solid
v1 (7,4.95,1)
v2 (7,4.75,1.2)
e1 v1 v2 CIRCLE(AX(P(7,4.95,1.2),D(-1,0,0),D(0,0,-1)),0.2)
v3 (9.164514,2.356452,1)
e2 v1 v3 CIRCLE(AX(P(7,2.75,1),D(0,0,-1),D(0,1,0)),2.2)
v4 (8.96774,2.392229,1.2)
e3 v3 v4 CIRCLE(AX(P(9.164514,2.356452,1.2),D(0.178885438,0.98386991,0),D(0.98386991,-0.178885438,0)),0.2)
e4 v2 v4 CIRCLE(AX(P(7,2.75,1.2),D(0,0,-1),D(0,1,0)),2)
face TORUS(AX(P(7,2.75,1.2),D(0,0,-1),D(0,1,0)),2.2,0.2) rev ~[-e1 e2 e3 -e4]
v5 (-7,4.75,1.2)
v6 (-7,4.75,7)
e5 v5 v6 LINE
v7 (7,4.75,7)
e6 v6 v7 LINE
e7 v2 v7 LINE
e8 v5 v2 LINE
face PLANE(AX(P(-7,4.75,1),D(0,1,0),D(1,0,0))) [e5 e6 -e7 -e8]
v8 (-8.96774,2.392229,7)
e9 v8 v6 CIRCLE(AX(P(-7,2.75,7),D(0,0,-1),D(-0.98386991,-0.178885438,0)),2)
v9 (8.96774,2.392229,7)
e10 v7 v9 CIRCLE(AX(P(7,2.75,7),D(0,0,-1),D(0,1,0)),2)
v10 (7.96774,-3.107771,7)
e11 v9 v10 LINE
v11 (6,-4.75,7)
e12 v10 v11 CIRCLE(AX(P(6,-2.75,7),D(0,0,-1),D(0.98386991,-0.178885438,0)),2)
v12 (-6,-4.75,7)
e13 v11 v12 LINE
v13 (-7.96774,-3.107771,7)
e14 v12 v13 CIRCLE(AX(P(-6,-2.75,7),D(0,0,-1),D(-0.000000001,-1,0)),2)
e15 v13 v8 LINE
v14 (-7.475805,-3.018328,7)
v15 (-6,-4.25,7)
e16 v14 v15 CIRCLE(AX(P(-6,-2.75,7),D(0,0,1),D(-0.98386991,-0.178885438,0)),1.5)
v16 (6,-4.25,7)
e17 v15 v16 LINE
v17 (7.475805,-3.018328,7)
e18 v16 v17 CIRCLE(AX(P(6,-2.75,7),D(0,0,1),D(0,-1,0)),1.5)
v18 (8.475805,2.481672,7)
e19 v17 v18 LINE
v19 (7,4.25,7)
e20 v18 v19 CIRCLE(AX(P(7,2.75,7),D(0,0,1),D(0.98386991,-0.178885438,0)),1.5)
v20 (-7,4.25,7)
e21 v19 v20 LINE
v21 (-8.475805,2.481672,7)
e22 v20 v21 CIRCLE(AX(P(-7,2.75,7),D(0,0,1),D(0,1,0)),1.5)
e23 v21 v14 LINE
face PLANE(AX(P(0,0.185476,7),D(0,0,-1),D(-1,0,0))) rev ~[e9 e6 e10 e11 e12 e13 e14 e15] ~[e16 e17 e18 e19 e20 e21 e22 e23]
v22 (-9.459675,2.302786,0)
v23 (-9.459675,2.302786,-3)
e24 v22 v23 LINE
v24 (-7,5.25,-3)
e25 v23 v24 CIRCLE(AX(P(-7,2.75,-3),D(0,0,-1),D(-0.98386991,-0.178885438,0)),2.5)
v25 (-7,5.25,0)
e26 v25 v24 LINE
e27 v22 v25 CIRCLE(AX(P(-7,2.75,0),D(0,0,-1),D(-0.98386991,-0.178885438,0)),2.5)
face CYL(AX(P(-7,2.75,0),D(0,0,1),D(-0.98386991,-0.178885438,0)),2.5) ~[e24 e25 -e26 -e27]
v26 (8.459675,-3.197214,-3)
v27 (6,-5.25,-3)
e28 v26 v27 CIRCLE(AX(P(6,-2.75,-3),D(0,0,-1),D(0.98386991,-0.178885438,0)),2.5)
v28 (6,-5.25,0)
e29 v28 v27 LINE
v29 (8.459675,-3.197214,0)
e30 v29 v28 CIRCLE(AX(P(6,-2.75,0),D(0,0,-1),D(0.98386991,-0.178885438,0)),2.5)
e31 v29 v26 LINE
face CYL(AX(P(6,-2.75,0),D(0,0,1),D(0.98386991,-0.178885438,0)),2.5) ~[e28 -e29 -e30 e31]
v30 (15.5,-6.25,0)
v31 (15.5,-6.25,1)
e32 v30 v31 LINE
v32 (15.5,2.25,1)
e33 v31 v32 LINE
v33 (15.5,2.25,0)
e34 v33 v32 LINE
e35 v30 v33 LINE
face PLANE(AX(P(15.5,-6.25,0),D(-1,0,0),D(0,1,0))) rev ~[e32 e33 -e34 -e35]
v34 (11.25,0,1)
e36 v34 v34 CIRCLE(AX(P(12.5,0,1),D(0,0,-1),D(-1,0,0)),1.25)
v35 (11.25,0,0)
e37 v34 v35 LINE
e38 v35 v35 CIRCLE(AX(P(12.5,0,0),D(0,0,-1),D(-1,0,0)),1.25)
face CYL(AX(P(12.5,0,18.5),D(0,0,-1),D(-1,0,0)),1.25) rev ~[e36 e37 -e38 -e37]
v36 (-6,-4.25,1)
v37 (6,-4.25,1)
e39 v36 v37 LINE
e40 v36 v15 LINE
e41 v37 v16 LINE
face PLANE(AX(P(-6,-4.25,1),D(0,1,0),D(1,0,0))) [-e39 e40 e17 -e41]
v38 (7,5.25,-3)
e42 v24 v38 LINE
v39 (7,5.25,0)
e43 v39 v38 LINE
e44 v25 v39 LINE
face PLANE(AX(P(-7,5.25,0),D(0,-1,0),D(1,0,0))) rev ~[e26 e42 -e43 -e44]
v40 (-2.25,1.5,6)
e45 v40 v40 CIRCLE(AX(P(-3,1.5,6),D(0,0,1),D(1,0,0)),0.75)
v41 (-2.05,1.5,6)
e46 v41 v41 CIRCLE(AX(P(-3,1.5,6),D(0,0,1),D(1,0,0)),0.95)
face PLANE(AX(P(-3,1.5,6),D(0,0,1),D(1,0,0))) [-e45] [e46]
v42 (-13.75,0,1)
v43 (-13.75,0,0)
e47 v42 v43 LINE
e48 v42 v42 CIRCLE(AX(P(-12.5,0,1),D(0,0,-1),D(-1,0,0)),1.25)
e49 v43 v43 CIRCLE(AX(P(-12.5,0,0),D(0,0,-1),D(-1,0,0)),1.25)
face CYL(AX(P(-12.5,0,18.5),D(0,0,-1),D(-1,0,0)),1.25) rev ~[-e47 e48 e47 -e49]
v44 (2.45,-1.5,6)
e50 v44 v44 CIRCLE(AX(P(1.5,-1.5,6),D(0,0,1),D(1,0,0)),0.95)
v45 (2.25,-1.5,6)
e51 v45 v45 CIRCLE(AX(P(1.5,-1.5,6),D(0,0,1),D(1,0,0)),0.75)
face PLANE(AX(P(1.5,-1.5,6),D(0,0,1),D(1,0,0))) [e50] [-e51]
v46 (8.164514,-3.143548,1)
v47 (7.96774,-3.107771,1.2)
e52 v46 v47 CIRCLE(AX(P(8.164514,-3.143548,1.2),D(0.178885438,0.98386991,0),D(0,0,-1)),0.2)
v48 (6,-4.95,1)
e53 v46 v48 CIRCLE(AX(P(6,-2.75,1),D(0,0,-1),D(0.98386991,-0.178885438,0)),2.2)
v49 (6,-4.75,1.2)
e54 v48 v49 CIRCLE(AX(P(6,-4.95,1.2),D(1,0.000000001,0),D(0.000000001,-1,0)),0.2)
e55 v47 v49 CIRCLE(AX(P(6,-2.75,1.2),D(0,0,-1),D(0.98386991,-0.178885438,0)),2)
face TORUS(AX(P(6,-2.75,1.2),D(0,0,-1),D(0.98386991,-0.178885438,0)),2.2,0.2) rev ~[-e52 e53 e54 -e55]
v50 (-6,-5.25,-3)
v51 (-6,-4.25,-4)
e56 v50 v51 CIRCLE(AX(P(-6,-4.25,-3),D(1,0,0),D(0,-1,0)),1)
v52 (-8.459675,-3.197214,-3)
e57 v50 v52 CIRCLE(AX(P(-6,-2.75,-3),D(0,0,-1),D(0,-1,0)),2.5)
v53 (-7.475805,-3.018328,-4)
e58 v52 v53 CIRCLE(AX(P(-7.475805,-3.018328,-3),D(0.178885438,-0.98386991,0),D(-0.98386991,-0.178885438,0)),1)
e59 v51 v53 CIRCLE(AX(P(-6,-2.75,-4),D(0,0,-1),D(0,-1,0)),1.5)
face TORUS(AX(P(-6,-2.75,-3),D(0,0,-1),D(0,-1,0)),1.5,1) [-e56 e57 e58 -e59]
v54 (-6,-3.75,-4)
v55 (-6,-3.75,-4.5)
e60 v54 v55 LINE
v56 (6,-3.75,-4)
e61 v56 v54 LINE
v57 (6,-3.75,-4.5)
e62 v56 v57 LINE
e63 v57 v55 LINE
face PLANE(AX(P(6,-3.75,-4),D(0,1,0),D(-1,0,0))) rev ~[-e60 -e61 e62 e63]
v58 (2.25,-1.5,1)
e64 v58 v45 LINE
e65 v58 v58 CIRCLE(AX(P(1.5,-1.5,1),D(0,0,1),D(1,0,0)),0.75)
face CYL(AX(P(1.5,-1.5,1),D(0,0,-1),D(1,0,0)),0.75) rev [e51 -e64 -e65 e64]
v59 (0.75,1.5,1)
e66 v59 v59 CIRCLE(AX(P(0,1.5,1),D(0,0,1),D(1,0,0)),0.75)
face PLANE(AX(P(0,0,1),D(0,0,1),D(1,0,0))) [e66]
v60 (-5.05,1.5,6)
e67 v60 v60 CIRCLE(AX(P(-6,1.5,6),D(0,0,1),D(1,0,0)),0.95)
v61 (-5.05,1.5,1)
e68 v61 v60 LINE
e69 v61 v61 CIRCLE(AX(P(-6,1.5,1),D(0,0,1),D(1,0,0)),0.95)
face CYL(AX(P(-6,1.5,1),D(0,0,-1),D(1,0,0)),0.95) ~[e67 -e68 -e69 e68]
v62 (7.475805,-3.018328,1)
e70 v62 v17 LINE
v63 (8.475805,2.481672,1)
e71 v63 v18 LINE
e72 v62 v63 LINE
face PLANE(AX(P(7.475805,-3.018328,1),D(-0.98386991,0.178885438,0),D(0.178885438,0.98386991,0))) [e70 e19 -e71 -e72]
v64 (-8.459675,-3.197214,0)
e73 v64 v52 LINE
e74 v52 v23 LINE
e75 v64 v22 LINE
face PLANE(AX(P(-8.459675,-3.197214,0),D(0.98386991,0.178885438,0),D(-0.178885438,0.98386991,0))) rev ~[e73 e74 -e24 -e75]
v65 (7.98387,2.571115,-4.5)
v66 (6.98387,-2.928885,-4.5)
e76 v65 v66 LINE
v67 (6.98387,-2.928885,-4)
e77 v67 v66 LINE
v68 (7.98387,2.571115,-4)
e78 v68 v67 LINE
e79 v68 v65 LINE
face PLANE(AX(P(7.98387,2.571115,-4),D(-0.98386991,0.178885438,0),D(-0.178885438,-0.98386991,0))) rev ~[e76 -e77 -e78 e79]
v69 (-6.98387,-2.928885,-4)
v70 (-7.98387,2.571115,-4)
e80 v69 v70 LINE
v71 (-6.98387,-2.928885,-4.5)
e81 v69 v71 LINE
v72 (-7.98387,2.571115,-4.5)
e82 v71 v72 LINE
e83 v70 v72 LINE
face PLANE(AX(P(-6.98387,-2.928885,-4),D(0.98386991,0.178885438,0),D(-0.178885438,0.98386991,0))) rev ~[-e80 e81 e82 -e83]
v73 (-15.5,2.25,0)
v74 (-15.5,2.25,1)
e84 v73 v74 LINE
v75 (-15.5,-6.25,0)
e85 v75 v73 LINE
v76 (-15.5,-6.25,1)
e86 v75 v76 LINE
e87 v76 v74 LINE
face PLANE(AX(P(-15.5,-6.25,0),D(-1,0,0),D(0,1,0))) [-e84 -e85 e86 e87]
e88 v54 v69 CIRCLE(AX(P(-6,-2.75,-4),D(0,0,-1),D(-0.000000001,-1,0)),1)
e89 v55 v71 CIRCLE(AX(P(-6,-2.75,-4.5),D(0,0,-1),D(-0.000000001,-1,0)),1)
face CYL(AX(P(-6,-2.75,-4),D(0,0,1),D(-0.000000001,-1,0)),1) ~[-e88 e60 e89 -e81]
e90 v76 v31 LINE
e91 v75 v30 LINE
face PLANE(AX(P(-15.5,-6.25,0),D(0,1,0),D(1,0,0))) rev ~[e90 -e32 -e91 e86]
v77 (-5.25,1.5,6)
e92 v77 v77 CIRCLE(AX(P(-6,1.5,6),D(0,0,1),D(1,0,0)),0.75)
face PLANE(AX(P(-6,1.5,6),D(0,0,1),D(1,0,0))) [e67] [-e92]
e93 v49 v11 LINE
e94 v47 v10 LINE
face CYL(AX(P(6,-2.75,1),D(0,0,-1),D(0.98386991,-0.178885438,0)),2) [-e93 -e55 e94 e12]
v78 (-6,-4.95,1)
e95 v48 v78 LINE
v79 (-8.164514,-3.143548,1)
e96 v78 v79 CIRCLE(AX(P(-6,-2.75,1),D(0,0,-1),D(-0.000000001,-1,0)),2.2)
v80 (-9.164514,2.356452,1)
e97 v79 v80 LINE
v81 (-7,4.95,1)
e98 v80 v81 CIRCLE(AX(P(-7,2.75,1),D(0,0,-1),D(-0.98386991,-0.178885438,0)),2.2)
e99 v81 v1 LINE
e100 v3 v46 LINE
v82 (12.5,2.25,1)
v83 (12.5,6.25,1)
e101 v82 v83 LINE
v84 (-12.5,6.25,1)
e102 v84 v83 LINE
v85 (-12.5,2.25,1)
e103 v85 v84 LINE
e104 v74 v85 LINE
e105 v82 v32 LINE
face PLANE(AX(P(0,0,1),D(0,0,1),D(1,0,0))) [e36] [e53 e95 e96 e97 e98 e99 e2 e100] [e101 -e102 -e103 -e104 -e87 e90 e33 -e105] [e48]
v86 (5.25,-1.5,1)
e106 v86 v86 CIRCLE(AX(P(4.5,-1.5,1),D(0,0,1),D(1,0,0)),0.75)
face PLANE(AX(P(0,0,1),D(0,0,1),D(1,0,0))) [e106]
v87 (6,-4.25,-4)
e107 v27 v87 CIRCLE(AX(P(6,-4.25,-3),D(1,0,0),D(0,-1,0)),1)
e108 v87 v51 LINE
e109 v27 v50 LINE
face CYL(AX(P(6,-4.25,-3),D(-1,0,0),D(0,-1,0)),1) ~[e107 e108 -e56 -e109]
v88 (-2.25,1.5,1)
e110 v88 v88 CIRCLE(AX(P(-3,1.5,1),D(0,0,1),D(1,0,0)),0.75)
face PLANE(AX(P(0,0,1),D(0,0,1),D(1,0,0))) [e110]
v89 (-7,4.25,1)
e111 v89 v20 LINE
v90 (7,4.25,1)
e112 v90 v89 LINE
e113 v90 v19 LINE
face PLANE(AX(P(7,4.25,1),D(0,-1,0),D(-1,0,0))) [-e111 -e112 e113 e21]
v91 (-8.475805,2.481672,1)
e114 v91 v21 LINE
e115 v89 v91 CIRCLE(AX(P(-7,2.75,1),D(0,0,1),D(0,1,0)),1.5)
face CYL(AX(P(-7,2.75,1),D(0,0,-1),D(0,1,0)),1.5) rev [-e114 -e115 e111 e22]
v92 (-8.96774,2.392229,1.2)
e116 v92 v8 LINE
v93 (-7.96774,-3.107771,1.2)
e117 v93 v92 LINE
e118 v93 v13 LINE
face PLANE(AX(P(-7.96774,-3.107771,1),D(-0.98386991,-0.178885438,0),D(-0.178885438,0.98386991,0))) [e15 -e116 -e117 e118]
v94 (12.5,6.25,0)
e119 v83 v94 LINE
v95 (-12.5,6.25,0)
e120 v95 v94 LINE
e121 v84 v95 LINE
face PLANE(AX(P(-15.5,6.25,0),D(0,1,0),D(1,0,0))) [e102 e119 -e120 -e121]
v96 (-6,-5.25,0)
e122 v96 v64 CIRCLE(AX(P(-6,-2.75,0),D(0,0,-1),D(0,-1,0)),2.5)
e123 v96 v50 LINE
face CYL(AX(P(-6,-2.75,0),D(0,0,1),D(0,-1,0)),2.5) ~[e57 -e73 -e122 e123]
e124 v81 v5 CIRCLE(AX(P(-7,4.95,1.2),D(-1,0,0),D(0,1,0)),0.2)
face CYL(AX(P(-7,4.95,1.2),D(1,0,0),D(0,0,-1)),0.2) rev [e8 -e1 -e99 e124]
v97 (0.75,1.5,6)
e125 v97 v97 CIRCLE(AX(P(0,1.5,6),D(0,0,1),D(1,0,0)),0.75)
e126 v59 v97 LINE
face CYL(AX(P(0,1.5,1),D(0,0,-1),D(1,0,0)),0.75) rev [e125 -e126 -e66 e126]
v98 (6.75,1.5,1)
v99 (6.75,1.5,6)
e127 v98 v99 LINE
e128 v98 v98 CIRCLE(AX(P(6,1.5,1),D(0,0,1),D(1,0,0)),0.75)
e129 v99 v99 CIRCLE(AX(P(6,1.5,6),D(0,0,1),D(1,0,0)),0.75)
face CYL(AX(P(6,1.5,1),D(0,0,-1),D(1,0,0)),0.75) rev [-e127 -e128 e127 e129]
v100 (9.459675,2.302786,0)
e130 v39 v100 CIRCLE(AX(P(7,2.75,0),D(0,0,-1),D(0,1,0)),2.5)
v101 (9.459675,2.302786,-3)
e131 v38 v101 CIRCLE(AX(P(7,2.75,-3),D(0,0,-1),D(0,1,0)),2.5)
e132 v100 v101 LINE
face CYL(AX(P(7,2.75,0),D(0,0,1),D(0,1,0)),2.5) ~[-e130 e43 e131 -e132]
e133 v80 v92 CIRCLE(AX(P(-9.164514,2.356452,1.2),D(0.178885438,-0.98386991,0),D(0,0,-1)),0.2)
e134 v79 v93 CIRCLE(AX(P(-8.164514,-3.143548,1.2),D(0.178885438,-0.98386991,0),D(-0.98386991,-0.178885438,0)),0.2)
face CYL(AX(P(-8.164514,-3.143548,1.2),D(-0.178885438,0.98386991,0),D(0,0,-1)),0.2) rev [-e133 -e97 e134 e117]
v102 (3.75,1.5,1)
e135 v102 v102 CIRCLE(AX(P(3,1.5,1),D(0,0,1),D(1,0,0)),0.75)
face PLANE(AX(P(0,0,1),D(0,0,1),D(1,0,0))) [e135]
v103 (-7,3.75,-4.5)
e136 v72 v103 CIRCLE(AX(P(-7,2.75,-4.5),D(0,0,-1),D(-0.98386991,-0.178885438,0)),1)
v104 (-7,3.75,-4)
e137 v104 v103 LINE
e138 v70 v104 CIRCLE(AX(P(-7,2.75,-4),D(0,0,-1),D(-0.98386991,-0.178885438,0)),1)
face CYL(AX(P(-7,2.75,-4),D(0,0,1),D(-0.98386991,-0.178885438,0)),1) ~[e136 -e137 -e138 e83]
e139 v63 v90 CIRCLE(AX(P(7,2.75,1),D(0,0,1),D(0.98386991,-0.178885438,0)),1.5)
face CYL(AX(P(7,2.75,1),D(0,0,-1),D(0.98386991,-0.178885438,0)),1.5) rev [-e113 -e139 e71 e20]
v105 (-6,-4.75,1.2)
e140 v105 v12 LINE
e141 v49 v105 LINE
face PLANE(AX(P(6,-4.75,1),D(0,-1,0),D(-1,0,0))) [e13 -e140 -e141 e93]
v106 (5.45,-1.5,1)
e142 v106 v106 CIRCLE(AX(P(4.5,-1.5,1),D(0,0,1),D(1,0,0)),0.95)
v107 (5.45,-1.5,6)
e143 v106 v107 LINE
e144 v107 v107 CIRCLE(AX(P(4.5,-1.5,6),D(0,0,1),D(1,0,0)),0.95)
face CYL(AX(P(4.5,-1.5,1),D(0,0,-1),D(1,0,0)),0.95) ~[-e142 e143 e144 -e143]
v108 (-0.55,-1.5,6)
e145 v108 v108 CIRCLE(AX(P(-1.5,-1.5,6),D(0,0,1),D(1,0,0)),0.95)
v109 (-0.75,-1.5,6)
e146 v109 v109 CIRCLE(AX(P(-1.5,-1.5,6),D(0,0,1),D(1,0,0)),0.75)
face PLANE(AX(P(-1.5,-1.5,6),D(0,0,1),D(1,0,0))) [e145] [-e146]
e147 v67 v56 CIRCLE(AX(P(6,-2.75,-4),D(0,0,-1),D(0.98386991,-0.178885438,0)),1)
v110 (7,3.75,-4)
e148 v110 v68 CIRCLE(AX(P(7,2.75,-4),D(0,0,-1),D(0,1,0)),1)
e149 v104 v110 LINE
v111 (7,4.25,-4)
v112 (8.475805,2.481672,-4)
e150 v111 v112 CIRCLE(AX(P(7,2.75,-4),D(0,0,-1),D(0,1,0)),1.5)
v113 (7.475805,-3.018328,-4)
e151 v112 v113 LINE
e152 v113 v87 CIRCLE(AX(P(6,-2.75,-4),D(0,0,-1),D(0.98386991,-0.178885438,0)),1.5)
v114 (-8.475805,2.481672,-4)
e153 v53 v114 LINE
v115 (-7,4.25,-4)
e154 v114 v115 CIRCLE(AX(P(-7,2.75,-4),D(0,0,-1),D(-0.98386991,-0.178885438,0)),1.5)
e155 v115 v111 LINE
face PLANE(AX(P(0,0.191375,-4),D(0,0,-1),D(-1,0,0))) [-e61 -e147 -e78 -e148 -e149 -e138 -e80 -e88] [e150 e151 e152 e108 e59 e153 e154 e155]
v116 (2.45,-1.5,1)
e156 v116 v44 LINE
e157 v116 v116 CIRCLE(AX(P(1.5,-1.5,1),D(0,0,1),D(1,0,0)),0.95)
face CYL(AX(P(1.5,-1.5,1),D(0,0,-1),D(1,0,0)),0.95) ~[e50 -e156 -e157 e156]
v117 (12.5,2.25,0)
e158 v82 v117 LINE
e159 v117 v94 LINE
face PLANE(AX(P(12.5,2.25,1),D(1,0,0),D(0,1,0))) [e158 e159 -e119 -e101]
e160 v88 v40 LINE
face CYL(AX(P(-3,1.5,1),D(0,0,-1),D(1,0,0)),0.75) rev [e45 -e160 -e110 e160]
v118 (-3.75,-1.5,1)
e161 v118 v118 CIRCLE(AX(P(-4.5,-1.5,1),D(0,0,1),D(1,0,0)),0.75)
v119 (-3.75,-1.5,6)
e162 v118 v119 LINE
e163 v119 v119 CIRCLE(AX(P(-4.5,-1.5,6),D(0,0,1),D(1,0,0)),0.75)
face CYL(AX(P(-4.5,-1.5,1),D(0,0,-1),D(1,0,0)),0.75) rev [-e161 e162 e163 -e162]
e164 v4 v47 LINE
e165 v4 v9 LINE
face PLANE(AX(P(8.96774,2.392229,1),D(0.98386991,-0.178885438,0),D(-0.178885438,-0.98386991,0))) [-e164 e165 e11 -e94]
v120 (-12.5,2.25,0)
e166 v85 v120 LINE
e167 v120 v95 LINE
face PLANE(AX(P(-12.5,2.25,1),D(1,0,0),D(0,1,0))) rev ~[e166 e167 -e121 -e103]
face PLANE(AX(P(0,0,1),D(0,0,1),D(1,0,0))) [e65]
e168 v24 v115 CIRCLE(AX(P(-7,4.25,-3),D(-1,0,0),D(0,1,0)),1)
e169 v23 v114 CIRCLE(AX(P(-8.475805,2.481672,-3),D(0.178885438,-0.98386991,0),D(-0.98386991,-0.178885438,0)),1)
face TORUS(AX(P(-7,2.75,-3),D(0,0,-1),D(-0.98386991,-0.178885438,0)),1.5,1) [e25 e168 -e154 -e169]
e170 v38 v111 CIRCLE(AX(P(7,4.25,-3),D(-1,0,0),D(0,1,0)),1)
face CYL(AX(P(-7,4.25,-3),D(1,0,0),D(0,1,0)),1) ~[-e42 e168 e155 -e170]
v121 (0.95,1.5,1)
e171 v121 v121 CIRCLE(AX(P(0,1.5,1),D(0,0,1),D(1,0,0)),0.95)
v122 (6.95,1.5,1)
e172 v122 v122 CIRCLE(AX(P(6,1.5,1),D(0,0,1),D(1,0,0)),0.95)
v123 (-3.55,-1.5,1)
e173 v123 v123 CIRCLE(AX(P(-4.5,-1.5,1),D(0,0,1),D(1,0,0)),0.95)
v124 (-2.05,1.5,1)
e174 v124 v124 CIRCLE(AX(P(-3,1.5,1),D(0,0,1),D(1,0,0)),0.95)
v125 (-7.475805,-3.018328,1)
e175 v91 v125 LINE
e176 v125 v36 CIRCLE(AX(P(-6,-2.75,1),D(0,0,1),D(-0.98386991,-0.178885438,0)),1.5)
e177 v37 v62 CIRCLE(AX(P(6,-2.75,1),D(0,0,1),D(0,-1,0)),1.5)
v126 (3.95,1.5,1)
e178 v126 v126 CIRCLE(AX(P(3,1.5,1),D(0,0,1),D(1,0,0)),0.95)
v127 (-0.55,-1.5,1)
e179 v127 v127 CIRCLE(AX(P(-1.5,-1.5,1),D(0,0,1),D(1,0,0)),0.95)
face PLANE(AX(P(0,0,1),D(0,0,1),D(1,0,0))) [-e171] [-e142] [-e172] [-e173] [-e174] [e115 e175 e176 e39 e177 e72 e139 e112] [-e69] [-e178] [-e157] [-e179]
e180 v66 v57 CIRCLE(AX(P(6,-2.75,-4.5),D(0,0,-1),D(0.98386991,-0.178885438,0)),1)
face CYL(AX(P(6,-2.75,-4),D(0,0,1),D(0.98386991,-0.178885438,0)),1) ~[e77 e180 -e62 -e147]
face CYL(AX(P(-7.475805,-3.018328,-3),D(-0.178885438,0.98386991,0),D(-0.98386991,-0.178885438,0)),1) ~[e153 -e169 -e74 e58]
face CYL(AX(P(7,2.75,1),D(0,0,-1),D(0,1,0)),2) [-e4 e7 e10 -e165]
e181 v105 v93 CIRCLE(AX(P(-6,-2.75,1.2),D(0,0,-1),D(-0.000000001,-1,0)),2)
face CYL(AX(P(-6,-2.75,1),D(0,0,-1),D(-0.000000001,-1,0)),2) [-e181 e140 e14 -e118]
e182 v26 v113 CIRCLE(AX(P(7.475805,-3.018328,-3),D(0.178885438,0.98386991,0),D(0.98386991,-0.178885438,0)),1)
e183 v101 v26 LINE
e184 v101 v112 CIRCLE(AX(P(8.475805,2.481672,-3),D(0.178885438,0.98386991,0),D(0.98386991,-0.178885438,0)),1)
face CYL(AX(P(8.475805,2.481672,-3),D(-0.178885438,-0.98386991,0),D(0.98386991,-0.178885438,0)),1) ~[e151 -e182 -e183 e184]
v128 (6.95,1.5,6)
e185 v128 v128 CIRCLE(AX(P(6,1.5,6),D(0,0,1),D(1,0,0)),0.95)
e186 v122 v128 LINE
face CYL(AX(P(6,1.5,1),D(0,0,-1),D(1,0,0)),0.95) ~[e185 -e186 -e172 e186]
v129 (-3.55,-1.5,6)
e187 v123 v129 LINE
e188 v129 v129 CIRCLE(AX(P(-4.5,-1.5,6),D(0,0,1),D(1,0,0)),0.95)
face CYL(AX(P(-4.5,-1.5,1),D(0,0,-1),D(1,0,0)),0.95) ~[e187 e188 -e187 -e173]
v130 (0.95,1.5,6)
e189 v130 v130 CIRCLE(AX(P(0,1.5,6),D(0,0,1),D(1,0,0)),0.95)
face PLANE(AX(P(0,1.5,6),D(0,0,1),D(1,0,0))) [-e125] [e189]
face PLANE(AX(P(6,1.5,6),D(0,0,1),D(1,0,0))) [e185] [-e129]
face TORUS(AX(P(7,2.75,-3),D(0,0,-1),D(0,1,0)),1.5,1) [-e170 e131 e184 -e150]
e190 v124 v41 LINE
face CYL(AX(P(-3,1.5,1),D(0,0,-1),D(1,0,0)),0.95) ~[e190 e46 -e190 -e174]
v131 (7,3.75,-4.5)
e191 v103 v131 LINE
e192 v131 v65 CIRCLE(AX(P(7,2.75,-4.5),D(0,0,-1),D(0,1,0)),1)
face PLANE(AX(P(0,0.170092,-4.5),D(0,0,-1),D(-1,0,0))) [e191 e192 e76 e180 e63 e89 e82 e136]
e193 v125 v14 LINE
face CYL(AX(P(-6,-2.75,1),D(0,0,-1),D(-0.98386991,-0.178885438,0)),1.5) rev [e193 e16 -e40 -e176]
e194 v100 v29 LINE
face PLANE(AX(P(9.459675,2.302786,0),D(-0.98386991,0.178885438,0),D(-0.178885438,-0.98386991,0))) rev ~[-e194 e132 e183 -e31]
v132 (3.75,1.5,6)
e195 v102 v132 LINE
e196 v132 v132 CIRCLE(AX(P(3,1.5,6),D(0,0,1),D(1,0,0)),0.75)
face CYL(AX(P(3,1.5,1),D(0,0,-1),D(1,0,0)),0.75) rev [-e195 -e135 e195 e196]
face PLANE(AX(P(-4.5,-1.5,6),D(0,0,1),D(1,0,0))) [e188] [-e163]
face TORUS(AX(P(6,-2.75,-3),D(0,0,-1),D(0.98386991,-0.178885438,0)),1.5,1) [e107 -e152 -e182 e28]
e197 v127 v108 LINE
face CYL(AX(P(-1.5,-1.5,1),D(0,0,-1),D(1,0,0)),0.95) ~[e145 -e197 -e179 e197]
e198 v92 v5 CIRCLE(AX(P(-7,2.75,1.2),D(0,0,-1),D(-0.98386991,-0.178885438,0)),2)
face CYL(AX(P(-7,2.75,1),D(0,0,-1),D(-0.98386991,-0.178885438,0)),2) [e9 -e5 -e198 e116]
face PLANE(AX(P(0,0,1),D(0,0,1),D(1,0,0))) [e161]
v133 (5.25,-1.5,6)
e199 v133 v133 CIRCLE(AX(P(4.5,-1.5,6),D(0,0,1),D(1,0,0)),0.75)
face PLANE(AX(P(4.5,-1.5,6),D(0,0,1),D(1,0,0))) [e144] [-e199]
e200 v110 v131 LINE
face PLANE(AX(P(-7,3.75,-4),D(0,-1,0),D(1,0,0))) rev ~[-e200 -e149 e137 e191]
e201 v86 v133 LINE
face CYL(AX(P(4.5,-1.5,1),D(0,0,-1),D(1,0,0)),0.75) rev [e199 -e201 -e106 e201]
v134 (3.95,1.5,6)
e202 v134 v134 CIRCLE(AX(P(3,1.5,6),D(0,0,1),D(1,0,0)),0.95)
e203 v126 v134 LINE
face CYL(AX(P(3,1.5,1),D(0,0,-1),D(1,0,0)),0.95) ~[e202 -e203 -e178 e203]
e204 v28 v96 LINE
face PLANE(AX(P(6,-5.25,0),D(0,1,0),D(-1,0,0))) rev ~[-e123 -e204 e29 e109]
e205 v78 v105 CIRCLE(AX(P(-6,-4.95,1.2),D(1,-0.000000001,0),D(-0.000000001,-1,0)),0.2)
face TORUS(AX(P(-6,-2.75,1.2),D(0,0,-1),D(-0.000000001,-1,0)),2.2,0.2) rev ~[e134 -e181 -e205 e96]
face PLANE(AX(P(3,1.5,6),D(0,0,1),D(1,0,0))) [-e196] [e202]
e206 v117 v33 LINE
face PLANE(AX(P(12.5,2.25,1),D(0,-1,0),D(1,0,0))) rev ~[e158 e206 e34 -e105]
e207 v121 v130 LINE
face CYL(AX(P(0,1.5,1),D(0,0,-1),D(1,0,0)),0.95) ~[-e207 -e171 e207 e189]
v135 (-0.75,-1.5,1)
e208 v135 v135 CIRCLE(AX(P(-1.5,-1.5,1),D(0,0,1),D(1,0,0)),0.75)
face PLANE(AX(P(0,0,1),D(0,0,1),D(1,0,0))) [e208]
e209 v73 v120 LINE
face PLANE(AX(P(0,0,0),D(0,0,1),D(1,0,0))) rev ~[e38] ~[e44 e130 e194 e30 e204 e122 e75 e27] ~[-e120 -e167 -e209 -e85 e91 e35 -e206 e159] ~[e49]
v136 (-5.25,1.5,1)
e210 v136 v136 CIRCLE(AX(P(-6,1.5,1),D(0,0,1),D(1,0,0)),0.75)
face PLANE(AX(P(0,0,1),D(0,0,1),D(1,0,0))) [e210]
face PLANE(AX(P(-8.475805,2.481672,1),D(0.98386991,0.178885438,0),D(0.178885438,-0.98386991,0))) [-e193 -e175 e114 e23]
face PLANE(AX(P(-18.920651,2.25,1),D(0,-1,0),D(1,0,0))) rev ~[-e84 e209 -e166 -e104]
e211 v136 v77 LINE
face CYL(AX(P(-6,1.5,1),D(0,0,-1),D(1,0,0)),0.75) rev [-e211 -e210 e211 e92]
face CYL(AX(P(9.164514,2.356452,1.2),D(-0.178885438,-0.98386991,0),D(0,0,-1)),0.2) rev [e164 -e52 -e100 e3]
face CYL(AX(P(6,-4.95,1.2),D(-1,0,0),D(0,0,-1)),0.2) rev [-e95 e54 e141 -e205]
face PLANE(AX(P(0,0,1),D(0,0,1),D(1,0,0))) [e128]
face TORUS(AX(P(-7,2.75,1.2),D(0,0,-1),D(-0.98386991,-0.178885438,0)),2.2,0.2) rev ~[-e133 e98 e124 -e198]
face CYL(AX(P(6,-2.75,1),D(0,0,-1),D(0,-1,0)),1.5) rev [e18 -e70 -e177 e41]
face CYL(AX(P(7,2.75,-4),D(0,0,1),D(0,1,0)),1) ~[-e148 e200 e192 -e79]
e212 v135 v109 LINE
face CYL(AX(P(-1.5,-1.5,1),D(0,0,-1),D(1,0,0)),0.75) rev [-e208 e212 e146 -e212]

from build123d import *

# Parameters (mm, degrees)
SKETCH1_W                 = 31
SKETCH1_H                 = 12.5
EXTRUDE1_DEPTH            = 1
EXTRUDE2_DEPTH            = 6
FILLET1_R                 = 0.2
M3X0_5_TAPPED_HOLE1_D     = 2.5
M3X0_5_TAPPED_HOLE1_DEPTH = 17.5
M3X0_5_TAPPED_HOLE1_TIP   = 0.751075774
EXTRUDE3_DEPTH            = 4
FILLET2_R                 = 1
EXTRUDE4_DEPTH            = 0.5
SKETCH8_R                 = 0.95
SKETCH8_R_2               = 0.75
EXTRUDE_THIN2_DEPTH       = 5
SKETCH10_W                = 6.420651052
SKETCH10_H                = 6.175896966
SKETCH10_W_2              = 7.637064352
SKETCH10_H_2              = 8.744155905
CUT_EXTRUDE1_DEPTH        = 5


with BuildPart() as part:
    # Sketch1 → Extrude1 (new body)
    with BuildSketch(Plane.XY):
        Rectangle(SKETCH1_W, SKETCH1_H)
    extrude(amount=EXTRUDE1_DEPTH)

    # Sketch2 → Extrude2 (add)
    with BuildSketch(Plane.XY.offset(1)):
        with BuildLine():
            Line((-7, 4.75), (7, 4.75))
            ThreePointArc((7, 4.75), (8.53550346, 4.031494878), (8.96773982, 2.392229124))
            Line((8.96773982, 2.392229124), (7.96773982, -3.107770876))
            ThreePointArc((7.96773982, -3.107770876), (7.281494878, -4.28550346), (6, -4.75))
            Line((6, -4.75), (-6, -4.75))
            ThreePointArc((-6, -4.75), (-7.281494878, -4.28550346), (-7.96773982, -3.107770876))
            Line((-7.96773982, -3.107770876), (-8.96773982, 2.392229124))
            ThreePointArc((-8.96773982, 2.392229124), (-8.53550346, 4.031494878), (-7, 4.75))
        make_face()
        with BuildLine():
            Line((-6, -4.25), (6, -4.25))
            ThreePointArc((6, -4.25), (6.961121159, -3.901627595), (7.475804865, -3.018328157))
            Line((7.475804865, -3.018328157), (8.475804865, 2.481671843))
            ThreePointArc((8.475804865, 2.481671843), (8.151627595, 3.711121159), (7, 4.25))
            Line((7, 4.25), (-7, 4.25))
            ThreePointArc((-7, 4.25), (-8.151627595, 3.711121159), (-8.475804865, 2.481671843))
            Line((-8.475804865, 2.481671843), (-7.475804865, -3.018328157))
            ThreePointArc((-7.475804865, -3.018328157), (-6.961121159, -3.901627595), (-6, -4.25))
        make_face(mode=Mode.SUBTRACT)
    extrude(amount=EXTRUDE2_DEPTH)

    # Fillet1
    fillet1_edges = [part.edges().sort_by_distance(p)[0] for p in [
        (-7.281494878, -4.28550346, 1),
        (0, -4.75, 1),
        (7.281494878, -4.28550346, 1),
        (8.46773982, -0.357770876, 1),
        (8.53550346, 4.031494878, 1),
        (0, 4.75, 1),
        (-8.53550346, 4.031494878, 1),
        (-8.46773982, -0.357770876, 1),
    ]]
    fillet(fillet1_edges, radius=FILLET1_R)

    # M3x0.5 Tapped Hole1
    with Locations(Plane(origin=(-12.5, 0, 1), x_dir=(1, 0, 0), z_dir=(0, 0, 1))):
        with Locations((0, 0), (25, 0)):
            Hole(M3X0_5_TAPPED_HOLE1_D / 2, depth=M3X0_5_TAPPED_HOLE1_DEPTH)
            with Locations((0, 0, -(M3X0_5_TAPPED_HOLE1_DEPTH + M3X0_5_TAPPED_HOLE1_TIP / 2))):  # 118° drill point
                Cone(0, M3X0_5_TAPPED_HOLE1_D / 2, M3X0_5_TAPPED_HOLE1_TIP, mode=Mode.SUBTRACT)

    # Sketch6 → Extrude3 (add)
    with BuildSketch(Plane(origin=(0, 0, 0), x_dir=(-1, 0, 0), z_dir=(0, 0, -1))):
        with BuildLine():
            Line((8.459674775, -3.197213595), (9.459674775, 2.302786405))
            ThreePointArc((9.459674775, 2.302786405), (8.919379325, 4.351868598), (7, 5.25))
            Line((7, 5.25), (-7, 5.25))
            ThreePointArc((-7, 5.25), (-8.919379325, 4.351868598), (-9.459674775, 2.302786405))
            Line((-9.459674775, 2.302786405), (-8.459674775, -3.197213595))
            ThreePointArc((-8.459674775, -3.197213595), (-7.601868598, -4.669379325), (-6, -5.25))
            Line((-6, -5.25), (6, -5.25))
            ThreePointArc((6, -5.25), (7.601868598, -4.669379325), (8.459674775, -3.197213595))
        make_face()
    extrude(amount=EXTRUDE3_DEPTH)

    # Fillet2
    fillet2_edges = [part.edges().sort_by_distance(p)[0] for p in [
        (0, 5.25, -4),
        (8.919379325, 4.351868598, -4),
        (8.959674775, -0.447213595, -4),
        (7.601868598, -4.669379325, -4),
        (0, -5.25, -4),
        (-7.601868598, -4.669379325, -4),
        (-8.959674775, -0.447213595, -4),
        (-8.919379325, 4.351868598, -4),
    ]]
    fillet(fillet2_edges, radius=FILLET2_R)

    # Sketch7 → Extrude4 (add)
    with BuildSketch(Plane(origin=(0, 0, -4), x_dir=(-1, 0, 0), z_dir=(0, 0, -1))):
        with BuildLine():
            Line((6.98386991, -2.928885438), (7.98386991, 2.571114562))
            ThreePointArc((7.98386991, 2.571114562), (7.76775173, 3.390747439), (7, 3.75))
            Line((7, 3.75), (-7, 3.75))
            ThreePointArc((-7, 3.75), (-7.76775173, 3.390747439), (-7.98386991, 2.571114562))
            Line((-7.98386991, 2.571114562), (-6.98386991, -2.928885438))
            ThreePointArc((-6.98386991, -2.928885438), (-6.640747439, -3.51775173), (-6, -3.75))
            Line((-6, -3.75), (6, -3.75))
            ThreePointArc((6, -3.75), (6.640747439, -3.51775173), (6.98386991, -2.928885438))
        make_face()
    extrude(amount=EXTRUDE4_DEPTH)

    # Sketch8 → Extrude-Thin2 (add)
    with BuildSketch(Plane.XY.offset(1)):
        with Locations((-6, 1.5)):
            Circle(SKETCH8_R)
        with Locations((-6, 1.5)):
            Circle(SKETCH8_R_2, mode=Mode.SUBTRACT)
        with Locations((-4.5, -1.5)):
            Circle(SKETCH8_R)
        with Locations((-4.5, -1.5)):
            Circle(SKETCH8_R_2, mode=Mode.SUBTRACT)
        with Locations((-3, 1.5)):
            Circle(SKETCH8_R)
        with Locations((-3, 1.5)):
            Circle(SKETCH8_R_2, mode=Mode.SUBTRACT)
        with Locations((1.5, -1.5)):
            Circle(SKETCH8_R)
        with Locations((1.5, -1.5)):
            Circle(SKETCH8_R_2, mode=Mode.SUBTRACT)
        with Locations((0, 1.5)):
            Circle(SKETCH8_R)
        with Locations((0, 1.5)):
            Circle(SKETCH8_R_2, mode=Mode.SUBTRACT)
        with Locations((-1.5, -1.5)):
            Circle(SKETCH8_R)
        with Locations((-1.5, -1.5)):
            Circle(SKETCH8_R_2, mode=Mode.SUBTRACT)
        with Locations((3, 1.5)):
            Circle(SKETCH8_R)
        with Locations((3, 1.5)):
            Circle(SKETCH8_R_2, mode=Mode.SUBTRACT)
        with Locations((4.5, -1.5)):
            Circle(SKETCH8_R)
        with Locations((4.5, -1.5)):
            Circle(SKETCH8_R_2, mode=Mode.SUBTRACT)
        with Locations((6, 1.5)):
            Circle(SKETCH8_R)
        with Locations((6, 1.5)):
            Circle(SKETCH8_R_2, mode=Mode.SUBTRACT)
    extrude(amount=EXTRUDE_THIN2_DEPTH)

    # Sketch10 → Cut-Extrude1 (cut)
    with BuildSketch(Plane.XY.offset(1)):
        with Locations((-15.710325526, 5.337948483)):
            Rectangle(SKETCH10_W, SKETCH10_H)
        with Locations((16.318532176, 6.622077953)):
            Rectangle(SKETCH10_W_2, SKETCH10_H_2)
    extrude(amount=-CUT_EXTRUDE1_DEPTH, mode=Mode.SUBTRACT)


solid = part.part
